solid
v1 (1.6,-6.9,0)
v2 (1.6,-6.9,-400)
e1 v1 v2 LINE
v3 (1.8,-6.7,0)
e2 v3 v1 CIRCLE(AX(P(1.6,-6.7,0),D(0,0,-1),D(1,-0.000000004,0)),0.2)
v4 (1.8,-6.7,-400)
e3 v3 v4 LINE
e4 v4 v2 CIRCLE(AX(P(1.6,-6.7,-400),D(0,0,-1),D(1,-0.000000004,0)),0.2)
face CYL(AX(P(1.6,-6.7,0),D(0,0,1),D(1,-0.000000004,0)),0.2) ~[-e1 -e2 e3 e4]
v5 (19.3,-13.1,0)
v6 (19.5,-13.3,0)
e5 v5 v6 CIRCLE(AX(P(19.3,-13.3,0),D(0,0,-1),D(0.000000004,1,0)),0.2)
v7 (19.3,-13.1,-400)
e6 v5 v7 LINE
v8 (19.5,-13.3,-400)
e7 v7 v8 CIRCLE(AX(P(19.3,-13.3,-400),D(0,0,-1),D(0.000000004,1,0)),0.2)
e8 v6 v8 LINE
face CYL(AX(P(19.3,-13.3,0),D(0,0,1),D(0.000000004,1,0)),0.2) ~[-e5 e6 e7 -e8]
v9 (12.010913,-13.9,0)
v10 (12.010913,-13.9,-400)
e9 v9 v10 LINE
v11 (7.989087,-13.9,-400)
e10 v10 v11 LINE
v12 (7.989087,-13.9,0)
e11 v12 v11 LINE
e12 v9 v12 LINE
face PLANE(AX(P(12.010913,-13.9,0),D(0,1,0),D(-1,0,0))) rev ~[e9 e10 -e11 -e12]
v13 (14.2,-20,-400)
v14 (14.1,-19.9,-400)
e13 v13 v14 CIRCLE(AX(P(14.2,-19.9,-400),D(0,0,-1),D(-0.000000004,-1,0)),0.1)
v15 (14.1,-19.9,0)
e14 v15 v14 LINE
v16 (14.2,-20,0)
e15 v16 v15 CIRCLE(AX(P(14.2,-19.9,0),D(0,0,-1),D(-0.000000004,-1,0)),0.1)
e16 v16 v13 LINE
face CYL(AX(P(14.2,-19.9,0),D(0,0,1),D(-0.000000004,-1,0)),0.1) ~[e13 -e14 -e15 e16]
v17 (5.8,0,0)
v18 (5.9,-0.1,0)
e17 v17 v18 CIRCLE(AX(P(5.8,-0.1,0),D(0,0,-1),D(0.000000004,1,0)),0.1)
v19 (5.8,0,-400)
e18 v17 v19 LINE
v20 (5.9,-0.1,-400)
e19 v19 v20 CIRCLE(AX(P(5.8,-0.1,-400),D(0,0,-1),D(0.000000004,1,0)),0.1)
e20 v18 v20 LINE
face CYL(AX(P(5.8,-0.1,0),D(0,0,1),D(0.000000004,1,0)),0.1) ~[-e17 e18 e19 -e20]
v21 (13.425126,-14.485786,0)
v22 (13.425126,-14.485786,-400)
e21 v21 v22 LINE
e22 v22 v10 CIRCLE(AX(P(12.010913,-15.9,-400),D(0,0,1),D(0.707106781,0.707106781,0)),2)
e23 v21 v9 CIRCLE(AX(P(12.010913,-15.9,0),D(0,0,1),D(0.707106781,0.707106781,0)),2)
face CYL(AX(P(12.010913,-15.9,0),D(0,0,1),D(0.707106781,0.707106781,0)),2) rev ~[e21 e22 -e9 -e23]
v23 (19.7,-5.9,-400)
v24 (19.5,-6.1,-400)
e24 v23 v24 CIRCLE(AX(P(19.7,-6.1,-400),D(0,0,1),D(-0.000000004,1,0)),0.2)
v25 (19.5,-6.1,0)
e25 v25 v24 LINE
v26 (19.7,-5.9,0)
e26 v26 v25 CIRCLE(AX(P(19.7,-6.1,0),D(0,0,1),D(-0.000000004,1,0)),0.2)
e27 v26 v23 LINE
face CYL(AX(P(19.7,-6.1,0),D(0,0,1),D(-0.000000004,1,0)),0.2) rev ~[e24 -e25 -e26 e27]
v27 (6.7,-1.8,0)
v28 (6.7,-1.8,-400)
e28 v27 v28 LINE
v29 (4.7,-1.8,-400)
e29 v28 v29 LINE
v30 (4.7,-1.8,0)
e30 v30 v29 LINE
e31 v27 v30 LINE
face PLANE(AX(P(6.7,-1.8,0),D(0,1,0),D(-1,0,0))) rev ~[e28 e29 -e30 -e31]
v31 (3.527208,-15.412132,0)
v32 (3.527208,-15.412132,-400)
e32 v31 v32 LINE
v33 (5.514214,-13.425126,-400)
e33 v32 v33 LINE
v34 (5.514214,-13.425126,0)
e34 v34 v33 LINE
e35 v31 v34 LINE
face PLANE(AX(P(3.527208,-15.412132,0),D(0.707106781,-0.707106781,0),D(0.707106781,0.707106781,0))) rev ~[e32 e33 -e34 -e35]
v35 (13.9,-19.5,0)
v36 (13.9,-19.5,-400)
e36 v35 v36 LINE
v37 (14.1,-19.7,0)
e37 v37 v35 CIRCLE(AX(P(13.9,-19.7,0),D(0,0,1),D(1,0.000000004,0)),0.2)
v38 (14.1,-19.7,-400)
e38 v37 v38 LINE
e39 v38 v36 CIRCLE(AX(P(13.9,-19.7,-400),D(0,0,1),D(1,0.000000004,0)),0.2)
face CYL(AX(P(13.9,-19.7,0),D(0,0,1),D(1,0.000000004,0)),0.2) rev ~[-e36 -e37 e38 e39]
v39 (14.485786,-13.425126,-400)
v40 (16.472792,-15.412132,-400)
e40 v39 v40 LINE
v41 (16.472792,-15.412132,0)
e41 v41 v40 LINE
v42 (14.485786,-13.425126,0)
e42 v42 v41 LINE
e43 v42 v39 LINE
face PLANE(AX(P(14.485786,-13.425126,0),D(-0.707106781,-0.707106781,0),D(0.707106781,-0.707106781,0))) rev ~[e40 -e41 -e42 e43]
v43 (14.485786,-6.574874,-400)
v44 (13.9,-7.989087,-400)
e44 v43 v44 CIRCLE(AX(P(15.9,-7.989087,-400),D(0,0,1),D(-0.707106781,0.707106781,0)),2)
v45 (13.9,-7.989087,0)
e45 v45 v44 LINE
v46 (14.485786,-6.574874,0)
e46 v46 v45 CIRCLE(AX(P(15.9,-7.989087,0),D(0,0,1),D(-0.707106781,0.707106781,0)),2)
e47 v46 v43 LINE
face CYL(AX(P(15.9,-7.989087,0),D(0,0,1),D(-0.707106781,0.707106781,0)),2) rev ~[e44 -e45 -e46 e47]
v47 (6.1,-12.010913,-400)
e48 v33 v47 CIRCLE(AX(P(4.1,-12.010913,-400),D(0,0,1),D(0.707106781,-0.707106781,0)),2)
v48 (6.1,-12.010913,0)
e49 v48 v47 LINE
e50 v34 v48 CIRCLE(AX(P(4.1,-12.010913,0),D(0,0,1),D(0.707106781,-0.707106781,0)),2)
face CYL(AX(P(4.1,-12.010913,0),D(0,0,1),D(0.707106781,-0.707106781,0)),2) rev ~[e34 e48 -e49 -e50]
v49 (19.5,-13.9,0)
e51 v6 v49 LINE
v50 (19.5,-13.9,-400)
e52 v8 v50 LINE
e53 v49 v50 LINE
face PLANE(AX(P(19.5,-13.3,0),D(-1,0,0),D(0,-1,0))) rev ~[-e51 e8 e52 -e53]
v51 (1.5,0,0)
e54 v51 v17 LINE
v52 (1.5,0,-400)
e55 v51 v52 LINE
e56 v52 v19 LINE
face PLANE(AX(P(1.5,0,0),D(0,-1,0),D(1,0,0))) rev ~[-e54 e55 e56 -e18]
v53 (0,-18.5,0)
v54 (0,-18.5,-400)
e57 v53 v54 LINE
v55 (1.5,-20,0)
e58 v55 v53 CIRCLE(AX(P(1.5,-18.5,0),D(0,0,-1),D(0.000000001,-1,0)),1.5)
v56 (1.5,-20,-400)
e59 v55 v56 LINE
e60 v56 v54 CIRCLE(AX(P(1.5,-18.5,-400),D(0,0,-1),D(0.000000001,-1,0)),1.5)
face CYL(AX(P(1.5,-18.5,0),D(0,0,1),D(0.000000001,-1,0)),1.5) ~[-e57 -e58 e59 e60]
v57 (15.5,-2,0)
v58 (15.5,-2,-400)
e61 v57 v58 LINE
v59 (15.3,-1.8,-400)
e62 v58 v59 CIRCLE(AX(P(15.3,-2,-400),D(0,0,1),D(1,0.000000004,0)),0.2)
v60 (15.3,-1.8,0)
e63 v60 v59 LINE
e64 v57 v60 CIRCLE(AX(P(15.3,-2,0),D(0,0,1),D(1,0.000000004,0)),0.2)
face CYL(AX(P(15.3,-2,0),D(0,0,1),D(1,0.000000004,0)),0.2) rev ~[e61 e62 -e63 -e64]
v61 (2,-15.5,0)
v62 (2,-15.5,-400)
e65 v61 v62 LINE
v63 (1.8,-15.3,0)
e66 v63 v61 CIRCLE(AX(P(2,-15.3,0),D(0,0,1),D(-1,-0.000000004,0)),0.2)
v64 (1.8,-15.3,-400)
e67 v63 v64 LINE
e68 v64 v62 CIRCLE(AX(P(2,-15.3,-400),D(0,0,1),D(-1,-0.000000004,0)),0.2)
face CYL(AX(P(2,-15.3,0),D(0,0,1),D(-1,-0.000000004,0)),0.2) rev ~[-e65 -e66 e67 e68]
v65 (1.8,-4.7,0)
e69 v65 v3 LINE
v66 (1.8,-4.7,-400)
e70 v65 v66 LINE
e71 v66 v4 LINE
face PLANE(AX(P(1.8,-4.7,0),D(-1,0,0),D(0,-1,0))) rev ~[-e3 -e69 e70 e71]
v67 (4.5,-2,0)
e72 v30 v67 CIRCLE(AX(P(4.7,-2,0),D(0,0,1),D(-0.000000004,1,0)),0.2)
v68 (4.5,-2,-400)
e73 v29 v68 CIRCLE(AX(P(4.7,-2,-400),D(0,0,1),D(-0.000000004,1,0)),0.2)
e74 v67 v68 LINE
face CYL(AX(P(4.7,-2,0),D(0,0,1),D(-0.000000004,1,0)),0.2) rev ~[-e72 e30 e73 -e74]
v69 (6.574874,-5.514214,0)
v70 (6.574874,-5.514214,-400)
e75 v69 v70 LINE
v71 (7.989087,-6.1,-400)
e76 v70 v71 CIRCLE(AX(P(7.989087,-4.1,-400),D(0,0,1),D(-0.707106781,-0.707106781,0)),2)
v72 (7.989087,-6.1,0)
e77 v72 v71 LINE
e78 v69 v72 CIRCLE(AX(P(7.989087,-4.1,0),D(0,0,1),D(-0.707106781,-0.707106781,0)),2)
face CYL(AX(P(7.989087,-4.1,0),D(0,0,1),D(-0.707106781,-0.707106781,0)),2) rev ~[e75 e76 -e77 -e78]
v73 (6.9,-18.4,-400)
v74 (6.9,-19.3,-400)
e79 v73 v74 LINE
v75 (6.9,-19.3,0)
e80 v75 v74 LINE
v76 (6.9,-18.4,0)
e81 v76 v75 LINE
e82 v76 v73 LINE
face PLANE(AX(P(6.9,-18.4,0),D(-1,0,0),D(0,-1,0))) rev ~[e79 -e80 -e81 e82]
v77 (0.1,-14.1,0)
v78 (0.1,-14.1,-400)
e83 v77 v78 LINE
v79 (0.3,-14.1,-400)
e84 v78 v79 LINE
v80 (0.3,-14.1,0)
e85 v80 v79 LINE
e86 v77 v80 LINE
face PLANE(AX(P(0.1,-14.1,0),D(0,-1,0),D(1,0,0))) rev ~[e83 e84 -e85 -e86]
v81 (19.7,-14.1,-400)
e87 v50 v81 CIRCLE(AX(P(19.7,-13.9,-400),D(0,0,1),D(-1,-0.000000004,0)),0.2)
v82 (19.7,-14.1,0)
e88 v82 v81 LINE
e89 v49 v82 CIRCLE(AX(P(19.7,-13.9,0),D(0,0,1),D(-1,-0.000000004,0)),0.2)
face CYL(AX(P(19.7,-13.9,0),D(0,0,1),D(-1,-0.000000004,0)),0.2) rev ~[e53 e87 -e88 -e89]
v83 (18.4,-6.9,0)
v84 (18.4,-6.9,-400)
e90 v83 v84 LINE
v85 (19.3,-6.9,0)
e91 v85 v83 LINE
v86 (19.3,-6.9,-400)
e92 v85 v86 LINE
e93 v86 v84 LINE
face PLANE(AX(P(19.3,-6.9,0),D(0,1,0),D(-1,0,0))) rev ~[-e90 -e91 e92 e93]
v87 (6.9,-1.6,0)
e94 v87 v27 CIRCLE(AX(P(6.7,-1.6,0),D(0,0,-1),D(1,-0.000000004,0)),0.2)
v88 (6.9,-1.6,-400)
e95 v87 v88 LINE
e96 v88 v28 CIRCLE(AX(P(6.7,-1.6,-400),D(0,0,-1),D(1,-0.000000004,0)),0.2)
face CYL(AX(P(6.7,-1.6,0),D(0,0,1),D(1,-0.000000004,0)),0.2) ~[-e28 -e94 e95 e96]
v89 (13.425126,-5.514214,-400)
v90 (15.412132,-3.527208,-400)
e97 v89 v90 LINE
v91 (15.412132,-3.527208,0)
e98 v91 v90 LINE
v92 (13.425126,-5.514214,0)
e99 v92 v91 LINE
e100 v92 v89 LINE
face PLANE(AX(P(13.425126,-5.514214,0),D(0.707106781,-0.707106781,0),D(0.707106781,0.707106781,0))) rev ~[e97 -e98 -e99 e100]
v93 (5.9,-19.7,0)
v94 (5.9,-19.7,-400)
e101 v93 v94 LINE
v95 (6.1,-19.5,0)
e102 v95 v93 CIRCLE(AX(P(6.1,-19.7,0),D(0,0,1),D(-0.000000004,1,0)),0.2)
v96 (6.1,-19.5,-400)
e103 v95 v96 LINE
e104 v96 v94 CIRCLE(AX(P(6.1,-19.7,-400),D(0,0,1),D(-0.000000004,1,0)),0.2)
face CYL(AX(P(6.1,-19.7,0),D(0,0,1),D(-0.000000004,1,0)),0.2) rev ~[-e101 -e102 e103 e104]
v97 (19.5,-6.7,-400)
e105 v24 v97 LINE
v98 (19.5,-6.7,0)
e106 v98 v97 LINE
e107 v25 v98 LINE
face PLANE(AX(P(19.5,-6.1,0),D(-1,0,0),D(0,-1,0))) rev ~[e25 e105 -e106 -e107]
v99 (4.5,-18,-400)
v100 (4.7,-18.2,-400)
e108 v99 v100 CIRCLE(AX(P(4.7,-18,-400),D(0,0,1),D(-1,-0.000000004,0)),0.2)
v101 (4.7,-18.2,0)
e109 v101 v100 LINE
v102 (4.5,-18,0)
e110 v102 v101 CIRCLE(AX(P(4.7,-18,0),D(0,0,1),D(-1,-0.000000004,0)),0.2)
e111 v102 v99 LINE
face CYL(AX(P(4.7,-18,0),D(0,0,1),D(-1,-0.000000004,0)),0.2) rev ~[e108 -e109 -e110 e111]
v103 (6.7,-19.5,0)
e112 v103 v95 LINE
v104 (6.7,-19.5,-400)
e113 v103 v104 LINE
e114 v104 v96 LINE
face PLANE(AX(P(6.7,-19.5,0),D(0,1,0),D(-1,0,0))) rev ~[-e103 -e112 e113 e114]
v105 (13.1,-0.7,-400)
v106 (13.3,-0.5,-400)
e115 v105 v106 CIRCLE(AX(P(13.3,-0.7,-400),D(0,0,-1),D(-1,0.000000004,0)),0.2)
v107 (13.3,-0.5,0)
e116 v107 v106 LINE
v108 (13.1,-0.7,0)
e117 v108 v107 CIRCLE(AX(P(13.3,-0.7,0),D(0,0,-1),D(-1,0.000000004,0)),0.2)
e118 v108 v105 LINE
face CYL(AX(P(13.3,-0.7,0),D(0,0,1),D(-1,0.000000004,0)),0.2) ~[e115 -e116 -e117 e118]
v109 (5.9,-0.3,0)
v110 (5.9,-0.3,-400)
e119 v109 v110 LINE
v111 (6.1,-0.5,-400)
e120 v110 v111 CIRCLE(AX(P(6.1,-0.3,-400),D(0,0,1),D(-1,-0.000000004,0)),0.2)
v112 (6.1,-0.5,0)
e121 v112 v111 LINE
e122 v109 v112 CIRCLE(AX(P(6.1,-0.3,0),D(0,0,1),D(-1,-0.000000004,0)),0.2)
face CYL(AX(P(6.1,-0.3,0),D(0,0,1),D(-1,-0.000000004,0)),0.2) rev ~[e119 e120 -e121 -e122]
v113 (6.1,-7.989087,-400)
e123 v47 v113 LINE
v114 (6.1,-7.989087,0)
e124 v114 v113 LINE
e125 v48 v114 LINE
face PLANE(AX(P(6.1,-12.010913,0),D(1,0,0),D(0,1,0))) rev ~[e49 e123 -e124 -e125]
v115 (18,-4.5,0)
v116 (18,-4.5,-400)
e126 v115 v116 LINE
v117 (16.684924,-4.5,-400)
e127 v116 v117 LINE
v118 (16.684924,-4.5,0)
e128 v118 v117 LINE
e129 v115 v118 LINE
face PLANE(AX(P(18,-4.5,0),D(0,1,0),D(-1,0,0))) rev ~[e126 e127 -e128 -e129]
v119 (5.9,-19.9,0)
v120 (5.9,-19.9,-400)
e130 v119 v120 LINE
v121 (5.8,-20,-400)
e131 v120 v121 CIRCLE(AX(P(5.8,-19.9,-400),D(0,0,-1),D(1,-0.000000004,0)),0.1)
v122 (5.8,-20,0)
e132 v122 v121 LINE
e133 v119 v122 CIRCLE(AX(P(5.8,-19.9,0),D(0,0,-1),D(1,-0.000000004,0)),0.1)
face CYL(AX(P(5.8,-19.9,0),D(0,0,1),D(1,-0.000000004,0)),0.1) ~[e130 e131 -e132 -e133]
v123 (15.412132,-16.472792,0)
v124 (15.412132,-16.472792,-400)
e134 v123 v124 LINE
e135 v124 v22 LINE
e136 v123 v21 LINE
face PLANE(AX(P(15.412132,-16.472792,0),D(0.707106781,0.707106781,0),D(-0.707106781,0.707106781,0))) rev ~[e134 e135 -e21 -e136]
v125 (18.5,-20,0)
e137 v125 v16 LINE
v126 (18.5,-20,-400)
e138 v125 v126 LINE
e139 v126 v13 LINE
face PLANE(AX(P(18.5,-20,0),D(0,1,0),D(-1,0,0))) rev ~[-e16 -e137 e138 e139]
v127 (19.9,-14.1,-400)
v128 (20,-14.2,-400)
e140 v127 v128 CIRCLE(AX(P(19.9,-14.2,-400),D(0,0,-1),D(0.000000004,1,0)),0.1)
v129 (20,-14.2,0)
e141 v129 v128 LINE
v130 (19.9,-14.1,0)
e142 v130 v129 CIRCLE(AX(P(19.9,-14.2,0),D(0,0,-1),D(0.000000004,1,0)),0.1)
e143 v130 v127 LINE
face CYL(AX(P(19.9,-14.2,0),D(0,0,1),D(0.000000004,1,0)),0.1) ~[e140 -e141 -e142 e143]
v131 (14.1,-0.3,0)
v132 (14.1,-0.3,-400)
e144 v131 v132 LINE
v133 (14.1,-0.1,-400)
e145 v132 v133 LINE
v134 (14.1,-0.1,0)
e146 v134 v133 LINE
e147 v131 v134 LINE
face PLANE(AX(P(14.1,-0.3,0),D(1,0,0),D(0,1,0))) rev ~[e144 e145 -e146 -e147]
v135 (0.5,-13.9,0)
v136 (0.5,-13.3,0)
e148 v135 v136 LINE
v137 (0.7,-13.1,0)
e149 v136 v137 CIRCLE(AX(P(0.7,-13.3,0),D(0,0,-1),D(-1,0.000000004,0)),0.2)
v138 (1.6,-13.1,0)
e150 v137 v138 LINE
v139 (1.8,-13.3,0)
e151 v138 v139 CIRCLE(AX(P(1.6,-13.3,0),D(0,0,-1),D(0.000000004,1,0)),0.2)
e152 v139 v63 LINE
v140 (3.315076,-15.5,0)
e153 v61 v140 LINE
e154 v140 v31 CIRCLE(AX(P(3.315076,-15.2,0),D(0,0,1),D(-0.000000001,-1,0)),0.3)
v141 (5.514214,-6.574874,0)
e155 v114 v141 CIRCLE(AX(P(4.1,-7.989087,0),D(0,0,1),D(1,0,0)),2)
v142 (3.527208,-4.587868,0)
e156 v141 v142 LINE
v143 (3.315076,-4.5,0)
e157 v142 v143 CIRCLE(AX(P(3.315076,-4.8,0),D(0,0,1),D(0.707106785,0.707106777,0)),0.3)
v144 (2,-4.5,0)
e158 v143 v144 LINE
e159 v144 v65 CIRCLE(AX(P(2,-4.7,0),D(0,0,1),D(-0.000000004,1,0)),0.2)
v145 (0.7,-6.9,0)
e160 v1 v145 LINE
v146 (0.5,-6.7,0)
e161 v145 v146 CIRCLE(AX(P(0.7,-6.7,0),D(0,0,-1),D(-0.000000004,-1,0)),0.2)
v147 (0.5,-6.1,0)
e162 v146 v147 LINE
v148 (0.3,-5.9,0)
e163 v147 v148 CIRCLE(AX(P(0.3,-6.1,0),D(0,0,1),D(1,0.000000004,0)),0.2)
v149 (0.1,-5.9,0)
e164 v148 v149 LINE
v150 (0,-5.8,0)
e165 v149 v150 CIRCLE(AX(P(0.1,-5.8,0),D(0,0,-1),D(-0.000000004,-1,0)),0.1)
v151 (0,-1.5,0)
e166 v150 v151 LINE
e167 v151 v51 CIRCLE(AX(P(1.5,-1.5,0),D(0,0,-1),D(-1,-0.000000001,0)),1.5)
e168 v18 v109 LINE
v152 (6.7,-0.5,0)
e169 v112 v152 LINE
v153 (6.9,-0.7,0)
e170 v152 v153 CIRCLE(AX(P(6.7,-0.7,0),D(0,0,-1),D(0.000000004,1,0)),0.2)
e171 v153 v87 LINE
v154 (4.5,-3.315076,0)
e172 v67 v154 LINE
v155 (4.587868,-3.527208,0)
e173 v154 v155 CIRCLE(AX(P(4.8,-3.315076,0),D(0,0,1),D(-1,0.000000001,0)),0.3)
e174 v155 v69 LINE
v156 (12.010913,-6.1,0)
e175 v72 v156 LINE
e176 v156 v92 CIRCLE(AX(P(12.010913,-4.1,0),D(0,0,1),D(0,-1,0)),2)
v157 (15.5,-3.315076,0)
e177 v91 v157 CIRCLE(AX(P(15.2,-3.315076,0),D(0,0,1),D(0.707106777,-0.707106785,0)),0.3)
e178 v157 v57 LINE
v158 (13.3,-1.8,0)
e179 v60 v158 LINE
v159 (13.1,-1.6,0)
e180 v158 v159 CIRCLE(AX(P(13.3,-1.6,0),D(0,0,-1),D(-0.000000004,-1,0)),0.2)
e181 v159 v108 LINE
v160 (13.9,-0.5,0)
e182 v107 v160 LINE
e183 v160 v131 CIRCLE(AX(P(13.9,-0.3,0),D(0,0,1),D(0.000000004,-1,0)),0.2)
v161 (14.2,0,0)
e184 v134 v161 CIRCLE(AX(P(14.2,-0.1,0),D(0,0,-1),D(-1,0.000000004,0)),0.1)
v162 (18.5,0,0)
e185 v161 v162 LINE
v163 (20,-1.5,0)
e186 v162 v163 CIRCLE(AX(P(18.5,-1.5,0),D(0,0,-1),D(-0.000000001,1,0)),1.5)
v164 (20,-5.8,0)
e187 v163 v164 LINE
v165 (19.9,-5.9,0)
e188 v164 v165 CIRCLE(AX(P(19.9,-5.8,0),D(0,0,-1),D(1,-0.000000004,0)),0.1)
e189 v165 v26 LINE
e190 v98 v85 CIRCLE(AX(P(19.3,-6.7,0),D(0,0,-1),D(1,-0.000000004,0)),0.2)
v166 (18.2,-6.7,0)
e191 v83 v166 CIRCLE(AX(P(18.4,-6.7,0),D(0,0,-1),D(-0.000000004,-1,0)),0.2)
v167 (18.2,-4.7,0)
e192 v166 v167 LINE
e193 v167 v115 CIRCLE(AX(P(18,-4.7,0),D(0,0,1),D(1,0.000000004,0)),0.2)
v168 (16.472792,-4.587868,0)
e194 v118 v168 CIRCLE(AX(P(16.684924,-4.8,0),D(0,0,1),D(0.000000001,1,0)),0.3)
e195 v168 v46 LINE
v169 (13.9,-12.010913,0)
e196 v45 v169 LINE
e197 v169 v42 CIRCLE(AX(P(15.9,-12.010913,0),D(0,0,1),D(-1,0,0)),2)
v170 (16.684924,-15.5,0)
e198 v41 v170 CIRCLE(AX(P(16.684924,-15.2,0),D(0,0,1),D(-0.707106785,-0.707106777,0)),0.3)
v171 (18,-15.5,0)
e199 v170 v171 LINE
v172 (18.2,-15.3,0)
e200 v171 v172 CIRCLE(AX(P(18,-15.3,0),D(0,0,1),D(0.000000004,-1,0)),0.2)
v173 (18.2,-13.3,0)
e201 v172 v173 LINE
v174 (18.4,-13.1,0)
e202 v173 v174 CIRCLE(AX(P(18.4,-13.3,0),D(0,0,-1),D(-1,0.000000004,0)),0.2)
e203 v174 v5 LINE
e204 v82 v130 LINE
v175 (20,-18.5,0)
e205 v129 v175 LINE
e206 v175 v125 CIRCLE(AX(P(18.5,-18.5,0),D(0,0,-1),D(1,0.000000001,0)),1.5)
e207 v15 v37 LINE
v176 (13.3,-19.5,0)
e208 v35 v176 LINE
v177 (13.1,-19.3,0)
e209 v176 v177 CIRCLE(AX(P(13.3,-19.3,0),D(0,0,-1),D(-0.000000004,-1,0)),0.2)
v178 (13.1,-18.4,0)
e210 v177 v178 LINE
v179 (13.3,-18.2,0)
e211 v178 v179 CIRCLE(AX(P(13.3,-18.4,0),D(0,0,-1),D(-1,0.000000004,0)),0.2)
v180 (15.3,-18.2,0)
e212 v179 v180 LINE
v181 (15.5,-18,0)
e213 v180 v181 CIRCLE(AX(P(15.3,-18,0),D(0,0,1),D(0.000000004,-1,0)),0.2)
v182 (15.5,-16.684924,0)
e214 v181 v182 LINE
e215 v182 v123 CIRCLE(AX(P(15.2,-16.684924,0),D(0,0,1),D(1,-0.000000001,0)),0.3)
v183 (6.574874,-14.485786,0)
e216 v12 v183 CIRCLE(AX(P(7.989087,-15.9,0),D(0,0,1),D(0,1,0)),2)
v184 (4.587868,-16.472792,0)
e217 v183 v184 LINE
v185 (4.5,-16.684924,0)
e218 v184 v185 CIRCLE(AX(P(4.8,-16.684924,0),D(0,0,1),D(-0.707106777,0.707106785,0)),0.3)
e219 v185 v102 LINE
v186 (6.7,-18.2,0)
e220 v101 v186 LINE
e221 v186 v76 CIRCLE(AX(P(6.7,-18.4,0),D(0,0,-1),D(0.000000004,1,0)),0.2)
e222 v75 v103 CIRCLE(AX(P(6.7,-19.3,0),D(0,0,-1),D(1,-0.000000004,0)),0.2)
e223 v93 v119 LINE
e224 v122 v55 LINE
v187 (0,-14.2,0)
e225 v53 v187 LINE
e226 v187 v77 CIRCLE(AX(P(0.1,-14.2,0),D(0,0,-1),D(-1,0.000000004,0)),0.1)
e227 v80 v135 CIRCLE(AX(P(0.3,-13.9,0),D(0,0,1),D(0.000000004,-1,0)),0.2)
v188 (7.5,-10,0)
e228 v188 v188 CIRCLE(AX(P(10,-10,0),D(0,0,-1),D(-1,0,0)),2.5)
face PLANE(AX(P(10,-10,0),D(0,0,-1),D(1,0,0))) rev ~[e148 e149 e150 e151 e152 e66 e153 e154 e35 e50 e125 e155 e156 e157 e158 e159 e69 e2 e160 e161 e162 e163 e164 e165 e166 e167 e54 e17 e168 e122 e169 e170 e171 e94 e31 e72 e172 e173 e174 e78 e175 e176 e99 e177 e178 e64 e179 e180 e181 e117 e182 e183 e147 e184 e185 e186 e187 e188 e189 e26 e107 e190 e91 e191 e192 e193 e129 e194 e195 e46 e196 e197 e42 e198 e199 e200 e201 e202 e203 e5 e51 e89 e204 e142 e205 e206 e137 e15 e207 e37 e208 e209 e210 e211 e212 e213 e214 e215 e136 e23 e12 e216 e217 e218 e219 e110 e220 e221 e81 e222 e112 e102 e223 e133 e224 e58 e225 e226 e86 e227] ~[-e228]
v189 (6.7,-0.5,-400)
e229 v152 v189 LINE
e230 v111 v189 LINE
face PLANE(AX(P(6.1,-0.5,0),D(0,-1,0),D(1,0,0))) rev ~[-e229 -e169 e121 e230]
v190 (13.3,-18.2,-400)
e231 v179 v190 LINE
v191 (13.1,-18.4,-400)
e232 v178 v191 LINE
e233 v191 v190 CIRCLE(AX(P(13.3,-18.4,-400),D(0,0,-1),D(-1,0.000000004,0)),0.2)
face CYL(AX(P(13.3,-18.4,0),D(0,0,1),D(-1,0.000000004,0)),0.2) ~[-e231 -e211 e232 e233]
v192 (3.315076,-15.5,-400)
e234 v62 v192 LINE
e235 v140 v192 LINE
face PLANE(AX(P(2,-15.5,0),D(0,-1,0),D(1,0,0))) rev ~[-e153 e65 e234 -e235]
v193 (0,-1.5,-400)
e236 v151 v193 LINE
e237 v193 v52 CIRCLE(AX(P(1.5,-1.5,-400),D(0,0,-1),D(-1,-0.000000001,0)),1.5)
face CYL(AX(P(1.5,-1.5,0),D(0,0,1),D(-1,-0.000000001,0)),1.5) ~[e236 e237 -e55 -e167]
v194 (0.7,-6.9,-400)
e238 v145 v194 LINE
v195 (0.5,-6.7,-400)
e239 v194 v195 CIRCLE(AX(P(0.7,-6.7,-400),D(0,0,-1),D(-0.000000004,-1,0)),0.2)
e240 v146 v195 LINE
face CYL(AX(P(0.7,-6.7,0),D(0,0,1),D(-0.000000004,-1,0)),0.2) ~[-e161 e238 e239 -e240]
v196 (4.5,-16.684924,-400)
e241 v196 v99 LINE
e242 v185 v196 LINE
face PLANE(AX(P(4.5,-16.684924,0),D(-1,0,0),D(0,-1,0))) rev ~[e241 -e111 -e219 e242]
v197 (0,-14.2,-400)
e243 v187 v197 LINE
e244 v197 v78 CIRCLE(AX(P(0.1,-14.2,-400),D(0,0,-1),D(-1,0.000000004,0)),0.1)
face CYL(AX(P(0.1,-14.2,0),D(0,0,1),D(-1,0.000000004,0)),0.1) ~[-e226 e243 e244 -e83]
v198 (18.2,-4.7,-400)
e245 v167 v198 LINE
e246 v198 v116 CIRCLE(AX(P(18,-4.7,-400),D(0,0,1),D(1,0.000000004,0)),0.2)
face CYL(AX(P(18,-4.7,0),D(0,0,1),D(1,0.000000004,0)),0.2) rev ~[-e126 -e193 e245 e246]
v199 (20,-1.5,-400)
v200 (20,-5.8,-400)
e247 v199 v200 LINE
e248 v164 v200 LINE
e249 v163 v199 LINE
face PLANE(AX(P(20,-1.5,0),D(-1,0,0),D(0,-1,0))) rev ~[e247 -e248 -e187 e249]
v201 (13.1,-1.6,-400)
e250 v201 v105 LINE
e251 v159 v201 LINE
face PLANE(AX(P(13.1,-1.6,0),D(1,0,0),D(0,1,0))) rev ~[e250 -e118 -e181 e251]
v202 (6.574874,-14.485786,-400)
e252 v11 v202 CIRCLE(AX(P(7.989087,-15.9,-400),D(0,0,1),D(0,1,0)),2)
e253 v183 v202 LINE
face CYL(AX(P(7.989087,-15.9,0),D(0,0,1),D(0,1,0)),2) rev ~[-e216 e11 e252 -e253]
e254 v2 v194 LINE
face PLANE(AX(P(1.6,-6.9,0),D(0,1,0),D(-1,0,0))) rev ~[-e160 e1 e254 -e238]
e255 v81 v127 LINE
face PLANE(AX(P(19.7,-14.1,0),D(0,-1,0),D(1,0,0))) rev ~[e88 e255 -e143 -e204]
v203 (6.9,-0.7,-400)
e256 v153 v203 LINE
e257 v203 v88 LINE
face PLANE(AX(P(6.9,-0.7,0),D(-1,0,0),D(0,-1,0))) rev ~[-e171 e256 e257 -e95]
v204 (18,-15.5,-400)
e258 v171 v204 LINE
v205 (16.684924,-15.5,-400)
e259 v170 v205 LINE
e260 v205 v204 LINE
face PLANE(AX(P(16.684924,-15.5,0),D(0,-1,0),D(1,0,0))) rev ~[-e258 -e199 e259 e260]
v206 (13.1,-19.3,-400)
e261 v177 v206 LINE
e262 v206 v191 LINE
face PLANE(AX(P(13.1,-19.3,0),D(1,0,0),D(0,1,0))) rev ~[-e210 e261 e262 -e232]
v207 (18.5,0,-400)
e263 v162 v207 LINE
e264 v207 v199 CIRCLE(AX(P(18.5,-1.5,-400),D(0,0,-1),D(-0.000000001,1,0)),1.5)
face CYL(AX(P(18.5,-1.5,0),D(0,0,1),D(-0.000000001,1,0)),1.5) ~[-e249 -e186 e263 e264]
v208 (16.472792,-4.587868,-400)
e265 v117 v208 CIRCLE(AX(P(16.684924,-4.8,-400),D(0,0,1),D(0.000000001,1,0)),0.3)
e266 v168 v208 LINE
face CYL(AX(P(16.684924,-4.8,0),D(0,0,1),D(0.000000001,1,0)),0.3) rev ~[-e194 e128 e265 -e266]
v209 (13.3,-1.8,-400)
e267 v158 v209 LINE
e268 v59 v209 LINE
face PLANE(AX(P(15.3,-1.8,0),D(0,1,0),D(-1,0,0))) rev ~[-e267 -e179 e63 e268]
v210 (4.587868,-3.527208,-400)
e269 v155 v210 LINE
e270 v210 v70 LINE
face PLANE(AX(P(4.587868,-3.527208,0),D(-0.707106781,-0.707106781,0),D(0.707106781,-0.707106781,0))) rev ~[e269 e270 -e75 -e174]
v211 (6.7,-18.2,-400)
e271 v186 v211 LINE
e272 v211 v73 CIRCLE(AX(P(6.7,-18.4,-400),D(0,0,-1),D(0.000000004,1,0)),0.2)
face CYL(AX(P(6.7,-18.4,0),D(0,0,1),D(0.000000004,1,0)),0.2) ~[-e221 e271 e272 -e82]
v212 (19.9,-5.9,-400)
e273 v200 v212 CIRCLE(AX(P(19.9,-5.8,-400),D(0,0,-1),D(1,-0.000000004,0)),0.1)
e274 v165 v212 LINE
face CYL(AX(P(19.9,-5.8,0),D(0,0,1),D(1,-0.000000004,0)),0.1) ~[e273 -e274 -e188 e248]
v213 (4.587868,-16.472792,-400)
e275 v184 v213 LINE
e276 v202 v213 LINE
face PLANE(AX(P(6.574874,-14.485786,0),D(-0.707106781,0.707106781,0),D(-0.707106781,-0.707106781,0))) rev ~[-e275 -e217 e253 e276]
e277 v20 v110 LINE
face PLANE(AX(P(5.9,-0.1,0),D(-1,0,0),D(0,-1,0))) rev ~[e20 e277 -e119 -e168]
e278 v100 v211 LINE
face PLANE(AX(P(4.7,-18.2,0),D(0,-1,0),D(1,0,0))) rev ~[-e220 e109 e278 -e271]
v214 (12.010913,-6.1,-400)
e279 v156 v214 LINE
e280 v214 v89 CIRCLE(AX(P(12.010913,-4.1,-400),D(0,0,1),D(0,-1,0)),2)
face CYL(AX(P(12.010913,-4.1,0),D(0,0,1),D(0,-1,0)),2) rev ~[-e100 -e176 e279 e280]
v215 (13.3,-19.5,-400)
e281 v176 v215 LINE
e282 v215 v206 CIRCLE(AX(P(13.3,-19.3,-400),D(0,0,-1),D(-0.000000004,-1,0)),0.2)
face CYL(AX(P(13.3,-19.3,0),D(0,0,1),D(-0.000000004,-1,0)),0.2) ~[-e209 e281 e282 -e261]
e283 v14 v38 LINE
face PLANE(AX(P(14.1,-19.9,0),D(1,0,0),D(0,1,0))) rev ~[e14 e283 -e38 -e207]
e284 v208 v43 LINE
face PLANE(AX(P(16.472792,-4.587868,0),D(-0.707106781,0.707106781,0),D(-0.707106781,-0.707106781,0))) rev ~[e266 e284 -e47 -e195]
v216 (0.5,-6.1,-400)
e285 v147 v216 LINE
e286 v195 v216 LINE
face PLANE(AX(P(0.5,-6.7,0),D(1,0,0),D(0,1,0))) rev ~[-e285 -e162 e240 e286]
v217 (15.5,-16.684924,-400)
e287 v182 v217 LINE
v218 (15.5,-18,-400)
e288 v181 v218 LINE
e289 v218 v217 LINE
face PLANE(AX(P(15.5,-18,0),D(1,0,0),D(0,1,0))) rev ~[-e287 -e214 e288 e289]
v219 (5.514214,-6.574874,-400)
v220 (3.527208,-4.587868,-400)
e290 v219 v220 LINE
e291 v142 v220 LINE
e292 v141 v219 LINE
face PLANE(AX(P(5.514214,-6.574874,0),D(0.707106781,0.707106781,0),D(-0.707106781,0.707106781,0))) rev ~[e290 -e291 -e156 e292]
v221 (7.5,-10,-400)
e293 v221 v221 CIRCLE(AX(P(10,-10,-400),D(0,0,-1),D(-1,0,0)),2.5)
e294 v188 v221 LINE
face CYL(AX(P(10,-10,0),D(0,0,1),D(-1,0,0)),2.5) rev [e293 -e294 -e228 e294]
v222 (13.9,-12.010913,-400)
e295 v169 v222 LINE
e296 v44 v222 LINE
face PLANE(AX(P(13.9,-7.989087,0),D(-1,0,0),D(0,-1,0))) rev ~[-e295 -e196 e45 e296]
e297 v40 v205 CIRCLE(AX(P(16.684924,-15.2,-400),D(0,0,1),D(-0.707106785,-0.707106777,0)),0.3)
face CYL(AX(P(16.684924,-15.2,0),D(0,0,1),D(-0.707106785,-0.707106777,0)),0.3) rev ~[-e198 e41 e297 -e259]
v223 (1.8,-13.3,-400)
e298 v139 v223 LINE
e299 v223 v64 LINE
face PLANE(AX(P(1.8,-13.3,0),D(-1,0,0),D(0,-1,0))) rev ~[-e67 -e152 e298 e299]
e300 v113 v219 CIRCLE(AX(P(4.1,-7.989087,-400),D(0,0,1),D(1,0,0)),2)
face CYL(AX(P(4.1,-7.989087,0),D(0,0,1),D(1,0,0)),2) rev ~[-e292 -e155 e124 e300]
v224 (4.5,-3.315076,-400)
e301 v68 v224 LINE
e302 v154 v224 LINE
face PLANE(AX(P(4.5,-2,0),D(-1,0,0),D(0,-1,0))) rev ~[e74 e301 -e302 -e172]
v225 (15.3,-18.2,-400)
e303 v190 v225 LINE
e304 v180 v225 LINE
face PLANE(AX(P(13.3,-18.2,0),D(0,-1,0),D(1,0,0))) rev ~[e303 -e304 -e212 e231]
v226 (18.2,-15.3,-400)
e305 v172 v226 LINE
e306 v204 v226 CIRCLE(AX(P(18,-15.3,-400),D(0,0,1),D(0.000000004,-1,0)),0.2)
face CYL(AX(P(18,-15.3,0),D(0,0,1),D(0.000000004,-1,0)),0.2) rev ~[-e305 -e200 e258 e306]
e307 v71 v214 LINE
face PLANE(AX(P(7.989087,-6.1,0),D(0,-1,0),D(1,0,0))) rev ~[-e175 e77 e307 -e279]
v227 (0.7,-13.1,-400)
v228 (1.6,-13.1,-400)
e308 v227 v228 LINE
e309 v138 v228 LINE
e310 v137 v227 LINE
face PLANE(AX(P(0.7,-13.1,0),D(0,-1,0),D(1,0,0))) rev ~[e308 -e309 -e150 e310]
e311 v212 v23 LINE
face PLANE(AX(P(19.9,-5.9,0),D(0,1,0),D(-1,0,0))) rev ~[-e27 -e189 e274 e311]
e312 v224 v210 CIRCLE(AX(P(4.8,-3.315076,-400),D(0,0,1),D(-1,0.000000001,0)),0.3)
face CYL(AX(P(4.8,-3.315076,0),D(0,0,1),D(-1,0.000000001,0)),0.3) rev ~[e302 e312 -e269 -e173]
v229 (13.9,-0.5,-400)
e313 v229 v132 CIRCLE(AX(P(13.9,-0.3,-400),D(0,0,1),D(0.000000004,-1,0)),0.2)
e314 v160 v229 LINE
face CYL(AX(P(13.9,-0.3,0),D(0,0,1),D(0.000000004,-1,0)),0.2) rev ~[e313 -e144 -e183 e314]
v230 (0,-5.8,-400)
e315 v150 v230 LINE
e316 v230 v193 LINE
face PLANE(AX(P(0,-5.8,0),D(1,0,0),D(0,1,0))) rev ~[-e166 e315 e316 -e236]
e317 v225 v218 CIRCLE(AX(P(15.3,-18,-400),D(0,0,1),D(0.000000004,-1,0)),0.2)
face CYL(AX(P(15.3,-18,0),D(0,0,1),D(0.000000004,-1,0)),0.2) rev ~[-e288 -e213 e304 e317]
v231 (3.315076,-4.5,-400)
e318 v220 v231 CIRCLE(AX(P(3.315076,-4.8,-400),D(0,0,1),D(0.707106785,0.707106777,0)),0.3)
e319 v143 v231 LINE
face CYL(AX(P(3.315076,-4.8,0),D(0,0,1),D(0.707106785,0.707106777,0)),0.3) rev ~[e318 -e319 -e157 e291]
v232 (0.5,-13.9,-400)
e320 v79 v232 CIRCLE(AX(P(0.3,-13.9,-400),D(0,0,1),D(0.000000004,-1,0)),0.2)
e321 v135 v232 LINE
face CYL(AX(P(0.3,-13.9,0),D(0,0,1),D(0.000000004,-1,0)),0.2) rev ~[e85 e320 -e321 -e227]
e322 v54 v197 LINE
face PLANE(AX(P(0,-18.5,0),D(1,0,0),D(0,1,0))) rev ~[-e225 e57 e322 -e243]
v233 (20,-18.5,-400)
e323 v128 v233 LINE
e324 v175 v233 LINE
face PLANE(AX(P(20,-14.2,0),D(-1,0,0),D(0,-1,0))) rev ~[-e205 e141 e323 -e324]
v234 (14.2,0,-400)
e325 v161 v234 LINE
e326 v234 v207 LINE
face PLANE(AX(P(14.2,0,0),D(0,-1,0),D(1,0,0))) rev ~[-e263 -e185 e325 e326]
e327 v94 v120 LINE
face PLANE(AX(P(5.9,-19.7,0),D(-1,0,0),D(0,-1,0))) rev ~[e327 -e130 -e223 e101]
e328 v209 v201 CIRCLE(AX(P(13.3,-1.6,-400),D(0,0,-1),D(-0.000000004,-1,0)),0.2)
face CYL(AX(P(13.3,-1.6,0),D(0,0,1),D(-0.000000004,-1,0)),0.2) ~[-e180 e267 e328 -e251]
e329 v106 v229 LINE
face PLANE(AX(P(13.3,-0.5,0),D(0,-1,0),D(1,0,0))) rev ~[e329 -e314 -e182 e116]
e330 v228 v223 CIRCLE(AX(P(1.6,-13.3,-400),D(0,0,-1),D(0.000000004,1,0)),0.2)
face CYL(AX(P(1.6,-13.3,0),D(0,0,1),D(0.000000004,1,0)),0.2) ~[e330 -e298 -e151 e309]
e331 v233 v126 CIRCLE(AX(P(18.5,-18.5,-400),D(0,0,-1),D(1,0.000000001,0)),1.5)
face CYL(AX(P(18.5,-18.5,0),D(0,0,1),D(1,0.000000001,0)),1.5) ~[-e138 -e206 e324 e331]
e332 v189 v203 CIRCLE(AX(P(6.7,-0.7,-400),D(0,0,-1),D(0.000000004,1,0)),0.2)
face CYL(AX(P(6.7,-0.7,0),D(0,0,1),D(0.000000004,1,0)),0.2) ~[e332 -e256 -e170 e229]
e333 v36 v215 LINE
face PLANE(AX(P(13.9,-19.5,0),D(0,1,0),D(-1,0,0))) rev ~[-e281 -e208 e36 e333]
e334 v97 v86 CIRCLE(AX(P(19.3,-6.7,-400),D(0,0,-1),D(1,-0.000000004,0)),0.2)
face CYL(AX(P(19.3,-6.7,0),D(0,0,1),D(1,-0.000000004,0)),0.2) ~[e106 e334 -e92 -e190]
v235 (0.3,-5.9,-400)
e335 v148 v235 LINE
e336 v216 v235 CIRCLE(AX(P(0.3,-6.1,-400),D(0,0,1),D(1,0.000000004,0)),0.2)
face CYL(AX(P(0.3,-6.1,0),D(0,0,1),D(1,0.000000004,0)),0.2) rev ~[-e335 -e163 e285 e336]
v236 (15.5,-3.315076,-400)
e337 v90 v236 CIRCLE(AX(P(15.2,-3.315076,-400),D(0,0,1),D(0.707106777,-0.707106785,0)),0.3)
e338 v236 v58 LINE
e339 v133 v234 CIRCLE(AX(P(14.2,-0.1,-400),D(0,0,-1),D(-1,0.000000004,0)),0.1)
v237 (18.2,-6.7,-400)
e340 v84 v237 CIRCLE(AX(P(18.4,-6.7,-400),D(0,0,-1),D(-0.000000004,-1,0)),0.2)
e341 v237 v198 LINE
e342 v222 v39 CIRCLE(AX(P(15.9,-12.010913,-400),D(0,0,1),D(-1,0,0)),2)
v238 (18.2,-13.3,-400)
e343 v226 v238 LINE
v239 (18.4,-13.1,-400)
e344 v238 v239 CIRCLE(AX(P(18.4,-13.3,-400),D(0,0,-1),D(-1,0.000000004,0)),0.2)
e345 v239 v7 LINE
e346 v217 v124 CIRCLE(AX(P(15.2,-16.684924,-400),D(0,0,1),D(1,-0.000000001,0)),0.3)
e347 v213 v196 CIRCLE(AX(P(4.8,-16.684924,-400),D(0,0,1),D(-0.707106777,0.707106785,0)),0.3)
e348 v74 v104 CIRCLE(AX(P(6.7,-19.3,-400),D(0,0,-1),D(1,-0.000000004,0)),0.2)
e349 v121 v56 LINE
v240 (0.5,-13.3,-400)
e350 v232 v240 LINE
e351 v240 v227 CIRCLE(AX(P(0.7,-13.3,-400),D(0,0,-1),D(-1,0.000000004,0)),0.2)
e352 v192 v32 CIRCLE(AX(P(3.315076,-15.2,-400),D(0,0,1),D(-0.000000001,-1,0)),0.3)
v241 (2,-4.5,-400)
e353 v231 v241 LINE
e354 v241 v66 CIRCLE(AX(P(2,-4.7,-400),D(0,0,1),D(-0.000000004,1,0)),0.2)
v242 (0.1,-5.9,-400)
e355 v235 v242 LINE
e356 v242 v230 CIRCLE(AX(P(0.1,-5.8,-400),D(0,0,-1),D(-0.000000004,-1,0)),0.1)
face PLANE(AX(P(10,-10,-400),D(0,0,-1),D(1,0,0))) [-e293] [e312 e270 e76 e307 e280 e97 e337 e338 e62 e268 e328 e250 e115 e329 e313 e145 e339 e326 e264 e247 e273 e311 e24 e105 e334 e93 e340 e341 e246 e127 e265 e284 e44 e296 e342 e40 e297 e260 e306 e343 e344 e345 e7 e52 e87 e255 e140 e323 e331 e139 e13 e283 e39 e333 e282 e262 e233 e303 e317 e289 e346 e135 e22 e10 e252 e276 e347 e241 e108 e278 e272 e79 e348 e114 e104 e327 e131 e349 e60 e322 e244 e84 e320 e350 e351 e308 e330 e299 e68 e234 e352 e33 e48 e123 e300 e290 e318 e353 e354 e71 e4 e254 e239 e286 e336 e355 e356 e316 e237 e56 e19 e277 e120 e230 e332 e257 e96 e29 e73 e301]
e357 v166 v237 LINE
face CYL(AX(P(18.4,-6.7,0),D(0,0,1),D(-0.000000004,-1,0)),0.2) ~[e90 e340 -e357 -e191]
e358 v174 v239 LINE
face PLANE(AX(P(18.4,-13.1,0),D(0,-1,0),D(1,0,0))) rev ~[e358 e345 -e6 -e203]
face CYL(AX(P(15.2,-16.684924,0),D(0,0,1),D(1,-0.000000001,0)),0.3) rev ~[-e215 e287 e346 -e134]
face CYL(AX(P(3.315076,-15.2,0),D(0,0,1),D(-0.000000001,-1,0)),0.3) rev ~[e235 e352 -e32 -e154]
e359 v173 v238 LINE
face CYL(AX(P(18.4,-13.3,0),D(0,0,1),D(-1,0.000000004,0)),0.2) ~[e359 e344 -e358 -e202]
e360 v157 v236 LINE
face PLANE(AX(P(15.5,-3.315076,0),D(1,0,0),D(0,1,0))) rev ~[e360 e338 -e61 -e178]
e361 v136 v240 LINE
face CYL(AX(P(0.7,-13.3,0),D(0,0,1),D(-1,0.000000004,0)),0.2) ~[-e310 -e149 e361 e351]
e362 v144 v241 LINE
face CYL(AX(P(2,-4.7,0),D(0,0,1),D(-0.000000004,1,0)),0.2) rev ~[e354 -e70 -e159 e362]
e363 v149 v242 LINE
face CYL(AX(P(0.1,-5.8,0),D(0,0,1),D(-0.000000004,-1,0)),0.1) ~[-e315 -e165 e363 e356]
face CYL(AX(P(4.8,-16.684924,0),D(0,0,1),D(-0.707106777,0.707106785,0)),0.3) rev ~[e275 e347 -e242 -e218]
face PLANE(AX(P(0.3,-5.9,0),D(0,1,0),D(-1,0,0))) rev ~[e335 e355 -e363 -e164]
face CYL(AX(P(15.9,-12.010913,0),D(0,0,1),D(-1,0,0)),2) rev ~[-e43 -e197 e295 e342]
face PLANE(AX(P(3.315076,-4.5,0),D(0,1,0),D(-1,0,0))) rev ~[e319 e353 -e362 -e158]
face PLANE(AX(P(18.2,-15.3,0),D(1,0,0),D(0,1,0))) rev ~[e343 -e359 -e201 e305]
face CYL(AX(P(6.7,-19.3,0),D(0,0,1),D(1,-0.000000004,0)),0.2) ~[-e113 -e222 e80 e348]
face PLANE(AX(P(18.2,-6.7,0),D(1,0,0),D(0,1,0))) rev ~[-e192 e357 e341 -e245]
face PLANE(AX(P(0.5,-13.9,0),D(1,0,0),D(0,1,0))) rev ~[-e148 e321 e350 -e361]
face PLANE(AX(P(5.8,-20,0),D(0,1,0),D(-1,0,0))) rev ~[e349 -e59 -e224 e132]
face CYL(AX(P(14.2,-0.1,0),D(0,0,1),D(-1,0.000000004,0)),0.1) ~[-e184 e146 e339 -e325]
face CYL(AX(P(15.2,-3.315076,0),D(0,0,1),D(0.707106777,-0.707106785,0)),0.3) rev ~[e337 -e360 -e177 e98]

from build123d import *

# Parameters (mm, degrees)
SKETCH1_R           = 2.5
BOSS_EXTRUDE1_DEPTH = 400


with BuildPart() as part:
    # Sketch1 → Boss-Extrude1 (new body)
    with BuildSketch(Plane(origin=(0, 0, 0), x_dir=(1, 0, 0), z_dir=(0, 0, -1))):
        with BuildLine():
            Line((1.5, 0), (5.8, 0))
            ThreePointArc((5.8, 0), (5.870710678, 0.029289322), (5.9, 0.1))
            Line((5.9, 0.1), (5.9, 0.3))
            ThreePointArc((5.9, 0.3), (5.958578644, 0.441421356), (6.1, 0.5))
            Line((6.1, 0.5), (6.7, 0.5))
            ThreePointArc((6.7, 0.5), (6.841421356, 0.558578644), (6.9, 0.7))
            Line((6.9, 0.7), (6.9, 1.6))
            ThreePointArc((6.9, 1.6), (6.841421356, 1.741421356), (6.7, 1.8))
            Line((6.7, 1.8), (4.7, 1.8))
            ThreePointArc((4.7, 1.8), (4.558578644, 1.858578644), (4.5, 2))
            Line((4.5, 2), (4.5, 3.31507576))
            ThreePointArc((4.5, 3.31507576), (4.52283614, 3.429880789), (4.587867966, 3.527207794))
            Line((4.587867966, 3.527207794), (6.574873734, 5.514213562))
            ThreePointArc((6.574873734, 5.514213562), (7.223720432, 5.947759065), (7.989087297, 6.1))
            Line((7.989087297, 6.1), (12.010912703, 6.1))
            ThreePointArc((12.010912703, 6.1), (12.776279568, 5.947759065), (13.425126266, 5.514213562))
            Line((13.425126266, 5.514213562), (15.412132034, 3.527207794))
            ThreePointArc((15.412132034, 3.527207794), (15.47716386, 3.429880789), (15.5, 3.31507576))
            Line((15.5, 3.31507576), (15.5, 2))
            ThreePointArc((15.5, 2), (15.441421356, 1.858578644), (15.3, 1.8))
            Line((15.3, 1.8), (13.3, 1.8))
            ThreePointArc((13.3, 1.8), (13.158578644, 1.741421356), (13.1, 1.6))
            Line((13.1, 1.6), (13.1, 0.7))
            ThreePointArc((13.1, 0.7), (13.158578644, 0.558578644), (13.3, 0.5))
            Line((13.3, 0.5), (13.9, 0.5))
            ThreePointArc((13.9, 0.5), (14.041421356, 0.441421356), (14.1, 0.3))
            Line((14.1, 0.3), (14.1, 0.1))
            ThreePointArc((14.1, 0.1), (14.129289322, 0.029289322), (14.2, 0))
            Line((14.2, 0), (18.5, 0))
            ThreePointArc((18.5, 0), (19.560660172, 0.439339828), (20, 1.5))
            Line((20, 1.5), (20, 5.8))
            ThreePointArc((20, 5.8), (19.970710678, 5.870710678), (19.9, 5.9))
            Line((19.9, 5.9), (19.7, 5.9))
            ThreePointArc((19.7, 5.9), (19.558578644, 5.958578644), (19.5, 6.1))
            Line((19.5, 6.1), (19.5, 6.7))
            ThreePointArc((19.5, 6.7), (19.441421356, 6.841421356), (19.3, 6.9))
            Line((19.3, 6.9), (18.4, 6.9))
            ThreePointArc((18.4, 6.9), (18.258578644, 6.841421356), (18.2, 6.7))
            Line((18.2, 6.7), (18.2, 4.7))
            ThreePointArc((18.2, 4.7), (18.141421356, 4.558578644), (18, 4.5))
            Line((18, 4.5), (16.68492424, 4.5))
            ThreePointArc((16.68492424, 4.5), (16.570119211, 4.52283614), (16.472792206, 4.587867966))
            Line((16.472792206, 4.587867966), (14.485786438, 6.574873734))
            ThreePointArc((14.485786438, 6.574873734), (14.052240935, 7.223720432), (13.9, 7.989087297))
            Line((13.9, 7.989087297), (13.9, 12.010912703))
            ThreePointArc((13.9, 12.010912703), (14.052240935, 12.776279568), (14.485786438, 13.425126266))
            Line((14.485786438, 13.425126266), (16.472792206, 15.412132034))
            ThreePointArc((16.472792206, 15.412132034), (16.570119211, 15.47716386), (16.68492424, 15.5))
            Line((16.68492424, 15.5), (18, 15.5))
            ThreePointArc((18, 15.5), (18.141421356, 15.441421356), (18.2, 15.3))
            Line((18.2, 15.3), (18.2, 13.3))
            ThreePointArc((18.2, 13.3), (18.258578644, 13.158578644), (18.4, 13.1))
            Line((18.4, 13.1), (19.3, 13.1))
            ThreePointArc((19.3, 13.1), (19.441421356, 13.158578644), (19.5, 13.3))
            Line((19.5, 13.3), (19.5, 13.9))
            ThreePointArc((19.5, 13.9), (19.558578644, 14.041421356), (19.7, 14.1))
            Line((19.7, 14.1), (19.9, 14.1))
            ThreePointArc((19.9, 14.1), (19.970710678, 14.129289322), (20, 14.2))
            Line((20, 14.2), (20, 18.5))
            ThreePointArc((20, 18.5), (19.560660172, 19.560660172), (18.5, 20))
            Line((18.5, 20), (14.2, 20))
            ThreePointArc((14.2, 20), (14.129289322, 19.970710678), (14.1, 19.9))
            Line((14.1, 19.9), (14.1, 19.7))
            ThreePointArc((14.1, 19.7), (14.041421356, 19.558578644), (13.9, 19.5))
            Line((13.9, 19.5), (13.3, 19.5))
            ThreePointArc((13.3, 19.5), (13.158578644, 19.441421356), (13.1, 19.3))
            Line((13.1, 19.3), (13.1, 18.4))
            ThreePointArc((13.1, 18.4), (13.158578644, 18.258578644), (13.3, 18.2))
            Line((13.3, 18.2), (15.3, 18.2))
            ThreePointArc((15.3, 18.2), (15.441421356, 18.141421356), (15.5, 18))
            Line((15.5, 18), (15.5, 16.68492424))
            ThreePointArc((15.5, 16.68492424), (15.47716386, 16.570119211), (15.412132034, 16.472792206))
            Line((15.412132034, 16.472792206), (13.425126266, 14.485786438))
            ThreePointArc((13.425126266, 14.485786438), (12.776279568, 14.052240935), (12.010912703, 13.9))
            Line((12.010912703, 13.9), (7.989087297, 13.9))
            ThreePointArc((7.989087297, 13.9), (7.223720432, 14.052240935), (6.574873734, 14.485786438))
            Line((6.574873734, 14.485786438), (4.587867966, 16.472792206))
            ThreePointArc((4.587867966, 16.472792206), (4.52283614, 16.570119211), (4.5, 16.68492424))
            Line((4.5, 16.68492424), (4.5, 18))
            ThreePointArc((4.5, 18), (4.558578644, 18.141421356), (4.7, 18.2))
            Line((4.7, 18.2), (6.7, 18.2))
            ThreePointArc((6.7, 18.2), (6.841421356, 18.258578644), (6.9, 18.4))
            Line((6.9, 18.4), (6.9, 19.3))
            ThreePointArc((6.9, 19.3), (6.841421356, 19.441421356), (6.7, 19.5))
            Line((6.7, 19.5), (6.1, 19.5))
            ThreePointArc((6.1, 19.5), (5.958578644, 19.558578644), (5.9, 19.7))
            Line((5.9, 19.7), (5.9, 19.9))
            ThreePointArc((5.9, 19.9), (5.870710678, 19.970710678), (5.8, 20))
            Line((5.8, 20), (1.5, 20))
            ThreePointArc((1.5, 20), (0.439339828, 19.560660172), (0, 18.5))
            Line((0, 18.5), (0, 14.2))
            ThreePointArc((0, 14.2), (0.029289322, 14.129289322), (0.1, 14.1))
            Line((0.1, 14.1), (0.3, 14.1))
            ThreePointArc((0.3, 14.1), (0.441421356, 14.041421356), (0.5, 13.9))
            Line((0.5, 13.9), (0.5, 13.3))
            ThreePointArc((0.5, 13.3), (0.558578644, 13.158578644), (0.7, 13.1))
            Line((0.7, 13.1), (1.6, 13.1))
            ThreePointArc((1.6, 13.1), (1.741421356, 13.158578644), (1.8, 13.3))
            Line((1.8, 13.3), (1.8, 15.3))
            ThreePointArc((1.8, 15.3), (1.858578644, 15.441421356), (2, 15.5))
            Line((2, 15.5), (3.31507576, 15.5))
            ThreePointArc((3.31507576, 15.5), (3.429880789, 15.47716386), (3.527207794, 15.412132034))
            Line((3.527207794, 15.412132034), (5.514213562, 13.425126266))
            ThreePointArc((5.514213562, 13.425126266), (5.947759065, 12.776279568), (6.1, 12.010912703))
            Line((6.1, 12.010912703), (6.1, 7.989087297))
            ThreePointArc((6.1, 7.989087297), (5.947759065, 7.223720432), (5.514213562, 6.574873734))
            Line((5.514213562, 6.574873734), (3.527207794, 4.587867966))
            ThreePointArc((3.527207794, 4.587867966), (3.429880789, 4.52283614), (3.31507576, 4.5))
            Line((3.31507576, 4.5), (2, 4.5))
            ThreePointArc((2, 4.5), (1.858578644, 4.558578644), (1.8, 4.7))
            Line((1.8, 4.7), (1.8, 6.7))
            ThreePointArc((1.8, 6.7), (1.741421356, 6.841421356), (1.6, 6.9))
            Line((1.6, 6.9), (0.7, 6.9))
            ThreePointArc((0.7, 6.9), (0.558578644, 6.841421356), (0.5, 6.7))
            Line((0.5, 6.7), (0.5, 6.1))
            ThreePointArc((0.5, 6.1), (0.441421356, 5.958578644), (0.3, 5.9))
            Line((0.3, 5.9), (0.1, 5.9))
            ThreePointArc((0.1, 5.9), (0.029289322, 5.870710678), (0, 5.8))
            Line((0, 5.8), (0, 1.5))
            ThreePointArc((0, 1.5), (0.439339828, 0.439339828), (1.5, 0))
        make_face()
        with Locations(Location((10, 10, 0), (0, 0, 180))):
            Circle(SKETCH1_R, mode=Mode.SUBTRACT)
    extrude(amount=BOSS_EXTRUDE1_DEPTH)


solid = part.part
